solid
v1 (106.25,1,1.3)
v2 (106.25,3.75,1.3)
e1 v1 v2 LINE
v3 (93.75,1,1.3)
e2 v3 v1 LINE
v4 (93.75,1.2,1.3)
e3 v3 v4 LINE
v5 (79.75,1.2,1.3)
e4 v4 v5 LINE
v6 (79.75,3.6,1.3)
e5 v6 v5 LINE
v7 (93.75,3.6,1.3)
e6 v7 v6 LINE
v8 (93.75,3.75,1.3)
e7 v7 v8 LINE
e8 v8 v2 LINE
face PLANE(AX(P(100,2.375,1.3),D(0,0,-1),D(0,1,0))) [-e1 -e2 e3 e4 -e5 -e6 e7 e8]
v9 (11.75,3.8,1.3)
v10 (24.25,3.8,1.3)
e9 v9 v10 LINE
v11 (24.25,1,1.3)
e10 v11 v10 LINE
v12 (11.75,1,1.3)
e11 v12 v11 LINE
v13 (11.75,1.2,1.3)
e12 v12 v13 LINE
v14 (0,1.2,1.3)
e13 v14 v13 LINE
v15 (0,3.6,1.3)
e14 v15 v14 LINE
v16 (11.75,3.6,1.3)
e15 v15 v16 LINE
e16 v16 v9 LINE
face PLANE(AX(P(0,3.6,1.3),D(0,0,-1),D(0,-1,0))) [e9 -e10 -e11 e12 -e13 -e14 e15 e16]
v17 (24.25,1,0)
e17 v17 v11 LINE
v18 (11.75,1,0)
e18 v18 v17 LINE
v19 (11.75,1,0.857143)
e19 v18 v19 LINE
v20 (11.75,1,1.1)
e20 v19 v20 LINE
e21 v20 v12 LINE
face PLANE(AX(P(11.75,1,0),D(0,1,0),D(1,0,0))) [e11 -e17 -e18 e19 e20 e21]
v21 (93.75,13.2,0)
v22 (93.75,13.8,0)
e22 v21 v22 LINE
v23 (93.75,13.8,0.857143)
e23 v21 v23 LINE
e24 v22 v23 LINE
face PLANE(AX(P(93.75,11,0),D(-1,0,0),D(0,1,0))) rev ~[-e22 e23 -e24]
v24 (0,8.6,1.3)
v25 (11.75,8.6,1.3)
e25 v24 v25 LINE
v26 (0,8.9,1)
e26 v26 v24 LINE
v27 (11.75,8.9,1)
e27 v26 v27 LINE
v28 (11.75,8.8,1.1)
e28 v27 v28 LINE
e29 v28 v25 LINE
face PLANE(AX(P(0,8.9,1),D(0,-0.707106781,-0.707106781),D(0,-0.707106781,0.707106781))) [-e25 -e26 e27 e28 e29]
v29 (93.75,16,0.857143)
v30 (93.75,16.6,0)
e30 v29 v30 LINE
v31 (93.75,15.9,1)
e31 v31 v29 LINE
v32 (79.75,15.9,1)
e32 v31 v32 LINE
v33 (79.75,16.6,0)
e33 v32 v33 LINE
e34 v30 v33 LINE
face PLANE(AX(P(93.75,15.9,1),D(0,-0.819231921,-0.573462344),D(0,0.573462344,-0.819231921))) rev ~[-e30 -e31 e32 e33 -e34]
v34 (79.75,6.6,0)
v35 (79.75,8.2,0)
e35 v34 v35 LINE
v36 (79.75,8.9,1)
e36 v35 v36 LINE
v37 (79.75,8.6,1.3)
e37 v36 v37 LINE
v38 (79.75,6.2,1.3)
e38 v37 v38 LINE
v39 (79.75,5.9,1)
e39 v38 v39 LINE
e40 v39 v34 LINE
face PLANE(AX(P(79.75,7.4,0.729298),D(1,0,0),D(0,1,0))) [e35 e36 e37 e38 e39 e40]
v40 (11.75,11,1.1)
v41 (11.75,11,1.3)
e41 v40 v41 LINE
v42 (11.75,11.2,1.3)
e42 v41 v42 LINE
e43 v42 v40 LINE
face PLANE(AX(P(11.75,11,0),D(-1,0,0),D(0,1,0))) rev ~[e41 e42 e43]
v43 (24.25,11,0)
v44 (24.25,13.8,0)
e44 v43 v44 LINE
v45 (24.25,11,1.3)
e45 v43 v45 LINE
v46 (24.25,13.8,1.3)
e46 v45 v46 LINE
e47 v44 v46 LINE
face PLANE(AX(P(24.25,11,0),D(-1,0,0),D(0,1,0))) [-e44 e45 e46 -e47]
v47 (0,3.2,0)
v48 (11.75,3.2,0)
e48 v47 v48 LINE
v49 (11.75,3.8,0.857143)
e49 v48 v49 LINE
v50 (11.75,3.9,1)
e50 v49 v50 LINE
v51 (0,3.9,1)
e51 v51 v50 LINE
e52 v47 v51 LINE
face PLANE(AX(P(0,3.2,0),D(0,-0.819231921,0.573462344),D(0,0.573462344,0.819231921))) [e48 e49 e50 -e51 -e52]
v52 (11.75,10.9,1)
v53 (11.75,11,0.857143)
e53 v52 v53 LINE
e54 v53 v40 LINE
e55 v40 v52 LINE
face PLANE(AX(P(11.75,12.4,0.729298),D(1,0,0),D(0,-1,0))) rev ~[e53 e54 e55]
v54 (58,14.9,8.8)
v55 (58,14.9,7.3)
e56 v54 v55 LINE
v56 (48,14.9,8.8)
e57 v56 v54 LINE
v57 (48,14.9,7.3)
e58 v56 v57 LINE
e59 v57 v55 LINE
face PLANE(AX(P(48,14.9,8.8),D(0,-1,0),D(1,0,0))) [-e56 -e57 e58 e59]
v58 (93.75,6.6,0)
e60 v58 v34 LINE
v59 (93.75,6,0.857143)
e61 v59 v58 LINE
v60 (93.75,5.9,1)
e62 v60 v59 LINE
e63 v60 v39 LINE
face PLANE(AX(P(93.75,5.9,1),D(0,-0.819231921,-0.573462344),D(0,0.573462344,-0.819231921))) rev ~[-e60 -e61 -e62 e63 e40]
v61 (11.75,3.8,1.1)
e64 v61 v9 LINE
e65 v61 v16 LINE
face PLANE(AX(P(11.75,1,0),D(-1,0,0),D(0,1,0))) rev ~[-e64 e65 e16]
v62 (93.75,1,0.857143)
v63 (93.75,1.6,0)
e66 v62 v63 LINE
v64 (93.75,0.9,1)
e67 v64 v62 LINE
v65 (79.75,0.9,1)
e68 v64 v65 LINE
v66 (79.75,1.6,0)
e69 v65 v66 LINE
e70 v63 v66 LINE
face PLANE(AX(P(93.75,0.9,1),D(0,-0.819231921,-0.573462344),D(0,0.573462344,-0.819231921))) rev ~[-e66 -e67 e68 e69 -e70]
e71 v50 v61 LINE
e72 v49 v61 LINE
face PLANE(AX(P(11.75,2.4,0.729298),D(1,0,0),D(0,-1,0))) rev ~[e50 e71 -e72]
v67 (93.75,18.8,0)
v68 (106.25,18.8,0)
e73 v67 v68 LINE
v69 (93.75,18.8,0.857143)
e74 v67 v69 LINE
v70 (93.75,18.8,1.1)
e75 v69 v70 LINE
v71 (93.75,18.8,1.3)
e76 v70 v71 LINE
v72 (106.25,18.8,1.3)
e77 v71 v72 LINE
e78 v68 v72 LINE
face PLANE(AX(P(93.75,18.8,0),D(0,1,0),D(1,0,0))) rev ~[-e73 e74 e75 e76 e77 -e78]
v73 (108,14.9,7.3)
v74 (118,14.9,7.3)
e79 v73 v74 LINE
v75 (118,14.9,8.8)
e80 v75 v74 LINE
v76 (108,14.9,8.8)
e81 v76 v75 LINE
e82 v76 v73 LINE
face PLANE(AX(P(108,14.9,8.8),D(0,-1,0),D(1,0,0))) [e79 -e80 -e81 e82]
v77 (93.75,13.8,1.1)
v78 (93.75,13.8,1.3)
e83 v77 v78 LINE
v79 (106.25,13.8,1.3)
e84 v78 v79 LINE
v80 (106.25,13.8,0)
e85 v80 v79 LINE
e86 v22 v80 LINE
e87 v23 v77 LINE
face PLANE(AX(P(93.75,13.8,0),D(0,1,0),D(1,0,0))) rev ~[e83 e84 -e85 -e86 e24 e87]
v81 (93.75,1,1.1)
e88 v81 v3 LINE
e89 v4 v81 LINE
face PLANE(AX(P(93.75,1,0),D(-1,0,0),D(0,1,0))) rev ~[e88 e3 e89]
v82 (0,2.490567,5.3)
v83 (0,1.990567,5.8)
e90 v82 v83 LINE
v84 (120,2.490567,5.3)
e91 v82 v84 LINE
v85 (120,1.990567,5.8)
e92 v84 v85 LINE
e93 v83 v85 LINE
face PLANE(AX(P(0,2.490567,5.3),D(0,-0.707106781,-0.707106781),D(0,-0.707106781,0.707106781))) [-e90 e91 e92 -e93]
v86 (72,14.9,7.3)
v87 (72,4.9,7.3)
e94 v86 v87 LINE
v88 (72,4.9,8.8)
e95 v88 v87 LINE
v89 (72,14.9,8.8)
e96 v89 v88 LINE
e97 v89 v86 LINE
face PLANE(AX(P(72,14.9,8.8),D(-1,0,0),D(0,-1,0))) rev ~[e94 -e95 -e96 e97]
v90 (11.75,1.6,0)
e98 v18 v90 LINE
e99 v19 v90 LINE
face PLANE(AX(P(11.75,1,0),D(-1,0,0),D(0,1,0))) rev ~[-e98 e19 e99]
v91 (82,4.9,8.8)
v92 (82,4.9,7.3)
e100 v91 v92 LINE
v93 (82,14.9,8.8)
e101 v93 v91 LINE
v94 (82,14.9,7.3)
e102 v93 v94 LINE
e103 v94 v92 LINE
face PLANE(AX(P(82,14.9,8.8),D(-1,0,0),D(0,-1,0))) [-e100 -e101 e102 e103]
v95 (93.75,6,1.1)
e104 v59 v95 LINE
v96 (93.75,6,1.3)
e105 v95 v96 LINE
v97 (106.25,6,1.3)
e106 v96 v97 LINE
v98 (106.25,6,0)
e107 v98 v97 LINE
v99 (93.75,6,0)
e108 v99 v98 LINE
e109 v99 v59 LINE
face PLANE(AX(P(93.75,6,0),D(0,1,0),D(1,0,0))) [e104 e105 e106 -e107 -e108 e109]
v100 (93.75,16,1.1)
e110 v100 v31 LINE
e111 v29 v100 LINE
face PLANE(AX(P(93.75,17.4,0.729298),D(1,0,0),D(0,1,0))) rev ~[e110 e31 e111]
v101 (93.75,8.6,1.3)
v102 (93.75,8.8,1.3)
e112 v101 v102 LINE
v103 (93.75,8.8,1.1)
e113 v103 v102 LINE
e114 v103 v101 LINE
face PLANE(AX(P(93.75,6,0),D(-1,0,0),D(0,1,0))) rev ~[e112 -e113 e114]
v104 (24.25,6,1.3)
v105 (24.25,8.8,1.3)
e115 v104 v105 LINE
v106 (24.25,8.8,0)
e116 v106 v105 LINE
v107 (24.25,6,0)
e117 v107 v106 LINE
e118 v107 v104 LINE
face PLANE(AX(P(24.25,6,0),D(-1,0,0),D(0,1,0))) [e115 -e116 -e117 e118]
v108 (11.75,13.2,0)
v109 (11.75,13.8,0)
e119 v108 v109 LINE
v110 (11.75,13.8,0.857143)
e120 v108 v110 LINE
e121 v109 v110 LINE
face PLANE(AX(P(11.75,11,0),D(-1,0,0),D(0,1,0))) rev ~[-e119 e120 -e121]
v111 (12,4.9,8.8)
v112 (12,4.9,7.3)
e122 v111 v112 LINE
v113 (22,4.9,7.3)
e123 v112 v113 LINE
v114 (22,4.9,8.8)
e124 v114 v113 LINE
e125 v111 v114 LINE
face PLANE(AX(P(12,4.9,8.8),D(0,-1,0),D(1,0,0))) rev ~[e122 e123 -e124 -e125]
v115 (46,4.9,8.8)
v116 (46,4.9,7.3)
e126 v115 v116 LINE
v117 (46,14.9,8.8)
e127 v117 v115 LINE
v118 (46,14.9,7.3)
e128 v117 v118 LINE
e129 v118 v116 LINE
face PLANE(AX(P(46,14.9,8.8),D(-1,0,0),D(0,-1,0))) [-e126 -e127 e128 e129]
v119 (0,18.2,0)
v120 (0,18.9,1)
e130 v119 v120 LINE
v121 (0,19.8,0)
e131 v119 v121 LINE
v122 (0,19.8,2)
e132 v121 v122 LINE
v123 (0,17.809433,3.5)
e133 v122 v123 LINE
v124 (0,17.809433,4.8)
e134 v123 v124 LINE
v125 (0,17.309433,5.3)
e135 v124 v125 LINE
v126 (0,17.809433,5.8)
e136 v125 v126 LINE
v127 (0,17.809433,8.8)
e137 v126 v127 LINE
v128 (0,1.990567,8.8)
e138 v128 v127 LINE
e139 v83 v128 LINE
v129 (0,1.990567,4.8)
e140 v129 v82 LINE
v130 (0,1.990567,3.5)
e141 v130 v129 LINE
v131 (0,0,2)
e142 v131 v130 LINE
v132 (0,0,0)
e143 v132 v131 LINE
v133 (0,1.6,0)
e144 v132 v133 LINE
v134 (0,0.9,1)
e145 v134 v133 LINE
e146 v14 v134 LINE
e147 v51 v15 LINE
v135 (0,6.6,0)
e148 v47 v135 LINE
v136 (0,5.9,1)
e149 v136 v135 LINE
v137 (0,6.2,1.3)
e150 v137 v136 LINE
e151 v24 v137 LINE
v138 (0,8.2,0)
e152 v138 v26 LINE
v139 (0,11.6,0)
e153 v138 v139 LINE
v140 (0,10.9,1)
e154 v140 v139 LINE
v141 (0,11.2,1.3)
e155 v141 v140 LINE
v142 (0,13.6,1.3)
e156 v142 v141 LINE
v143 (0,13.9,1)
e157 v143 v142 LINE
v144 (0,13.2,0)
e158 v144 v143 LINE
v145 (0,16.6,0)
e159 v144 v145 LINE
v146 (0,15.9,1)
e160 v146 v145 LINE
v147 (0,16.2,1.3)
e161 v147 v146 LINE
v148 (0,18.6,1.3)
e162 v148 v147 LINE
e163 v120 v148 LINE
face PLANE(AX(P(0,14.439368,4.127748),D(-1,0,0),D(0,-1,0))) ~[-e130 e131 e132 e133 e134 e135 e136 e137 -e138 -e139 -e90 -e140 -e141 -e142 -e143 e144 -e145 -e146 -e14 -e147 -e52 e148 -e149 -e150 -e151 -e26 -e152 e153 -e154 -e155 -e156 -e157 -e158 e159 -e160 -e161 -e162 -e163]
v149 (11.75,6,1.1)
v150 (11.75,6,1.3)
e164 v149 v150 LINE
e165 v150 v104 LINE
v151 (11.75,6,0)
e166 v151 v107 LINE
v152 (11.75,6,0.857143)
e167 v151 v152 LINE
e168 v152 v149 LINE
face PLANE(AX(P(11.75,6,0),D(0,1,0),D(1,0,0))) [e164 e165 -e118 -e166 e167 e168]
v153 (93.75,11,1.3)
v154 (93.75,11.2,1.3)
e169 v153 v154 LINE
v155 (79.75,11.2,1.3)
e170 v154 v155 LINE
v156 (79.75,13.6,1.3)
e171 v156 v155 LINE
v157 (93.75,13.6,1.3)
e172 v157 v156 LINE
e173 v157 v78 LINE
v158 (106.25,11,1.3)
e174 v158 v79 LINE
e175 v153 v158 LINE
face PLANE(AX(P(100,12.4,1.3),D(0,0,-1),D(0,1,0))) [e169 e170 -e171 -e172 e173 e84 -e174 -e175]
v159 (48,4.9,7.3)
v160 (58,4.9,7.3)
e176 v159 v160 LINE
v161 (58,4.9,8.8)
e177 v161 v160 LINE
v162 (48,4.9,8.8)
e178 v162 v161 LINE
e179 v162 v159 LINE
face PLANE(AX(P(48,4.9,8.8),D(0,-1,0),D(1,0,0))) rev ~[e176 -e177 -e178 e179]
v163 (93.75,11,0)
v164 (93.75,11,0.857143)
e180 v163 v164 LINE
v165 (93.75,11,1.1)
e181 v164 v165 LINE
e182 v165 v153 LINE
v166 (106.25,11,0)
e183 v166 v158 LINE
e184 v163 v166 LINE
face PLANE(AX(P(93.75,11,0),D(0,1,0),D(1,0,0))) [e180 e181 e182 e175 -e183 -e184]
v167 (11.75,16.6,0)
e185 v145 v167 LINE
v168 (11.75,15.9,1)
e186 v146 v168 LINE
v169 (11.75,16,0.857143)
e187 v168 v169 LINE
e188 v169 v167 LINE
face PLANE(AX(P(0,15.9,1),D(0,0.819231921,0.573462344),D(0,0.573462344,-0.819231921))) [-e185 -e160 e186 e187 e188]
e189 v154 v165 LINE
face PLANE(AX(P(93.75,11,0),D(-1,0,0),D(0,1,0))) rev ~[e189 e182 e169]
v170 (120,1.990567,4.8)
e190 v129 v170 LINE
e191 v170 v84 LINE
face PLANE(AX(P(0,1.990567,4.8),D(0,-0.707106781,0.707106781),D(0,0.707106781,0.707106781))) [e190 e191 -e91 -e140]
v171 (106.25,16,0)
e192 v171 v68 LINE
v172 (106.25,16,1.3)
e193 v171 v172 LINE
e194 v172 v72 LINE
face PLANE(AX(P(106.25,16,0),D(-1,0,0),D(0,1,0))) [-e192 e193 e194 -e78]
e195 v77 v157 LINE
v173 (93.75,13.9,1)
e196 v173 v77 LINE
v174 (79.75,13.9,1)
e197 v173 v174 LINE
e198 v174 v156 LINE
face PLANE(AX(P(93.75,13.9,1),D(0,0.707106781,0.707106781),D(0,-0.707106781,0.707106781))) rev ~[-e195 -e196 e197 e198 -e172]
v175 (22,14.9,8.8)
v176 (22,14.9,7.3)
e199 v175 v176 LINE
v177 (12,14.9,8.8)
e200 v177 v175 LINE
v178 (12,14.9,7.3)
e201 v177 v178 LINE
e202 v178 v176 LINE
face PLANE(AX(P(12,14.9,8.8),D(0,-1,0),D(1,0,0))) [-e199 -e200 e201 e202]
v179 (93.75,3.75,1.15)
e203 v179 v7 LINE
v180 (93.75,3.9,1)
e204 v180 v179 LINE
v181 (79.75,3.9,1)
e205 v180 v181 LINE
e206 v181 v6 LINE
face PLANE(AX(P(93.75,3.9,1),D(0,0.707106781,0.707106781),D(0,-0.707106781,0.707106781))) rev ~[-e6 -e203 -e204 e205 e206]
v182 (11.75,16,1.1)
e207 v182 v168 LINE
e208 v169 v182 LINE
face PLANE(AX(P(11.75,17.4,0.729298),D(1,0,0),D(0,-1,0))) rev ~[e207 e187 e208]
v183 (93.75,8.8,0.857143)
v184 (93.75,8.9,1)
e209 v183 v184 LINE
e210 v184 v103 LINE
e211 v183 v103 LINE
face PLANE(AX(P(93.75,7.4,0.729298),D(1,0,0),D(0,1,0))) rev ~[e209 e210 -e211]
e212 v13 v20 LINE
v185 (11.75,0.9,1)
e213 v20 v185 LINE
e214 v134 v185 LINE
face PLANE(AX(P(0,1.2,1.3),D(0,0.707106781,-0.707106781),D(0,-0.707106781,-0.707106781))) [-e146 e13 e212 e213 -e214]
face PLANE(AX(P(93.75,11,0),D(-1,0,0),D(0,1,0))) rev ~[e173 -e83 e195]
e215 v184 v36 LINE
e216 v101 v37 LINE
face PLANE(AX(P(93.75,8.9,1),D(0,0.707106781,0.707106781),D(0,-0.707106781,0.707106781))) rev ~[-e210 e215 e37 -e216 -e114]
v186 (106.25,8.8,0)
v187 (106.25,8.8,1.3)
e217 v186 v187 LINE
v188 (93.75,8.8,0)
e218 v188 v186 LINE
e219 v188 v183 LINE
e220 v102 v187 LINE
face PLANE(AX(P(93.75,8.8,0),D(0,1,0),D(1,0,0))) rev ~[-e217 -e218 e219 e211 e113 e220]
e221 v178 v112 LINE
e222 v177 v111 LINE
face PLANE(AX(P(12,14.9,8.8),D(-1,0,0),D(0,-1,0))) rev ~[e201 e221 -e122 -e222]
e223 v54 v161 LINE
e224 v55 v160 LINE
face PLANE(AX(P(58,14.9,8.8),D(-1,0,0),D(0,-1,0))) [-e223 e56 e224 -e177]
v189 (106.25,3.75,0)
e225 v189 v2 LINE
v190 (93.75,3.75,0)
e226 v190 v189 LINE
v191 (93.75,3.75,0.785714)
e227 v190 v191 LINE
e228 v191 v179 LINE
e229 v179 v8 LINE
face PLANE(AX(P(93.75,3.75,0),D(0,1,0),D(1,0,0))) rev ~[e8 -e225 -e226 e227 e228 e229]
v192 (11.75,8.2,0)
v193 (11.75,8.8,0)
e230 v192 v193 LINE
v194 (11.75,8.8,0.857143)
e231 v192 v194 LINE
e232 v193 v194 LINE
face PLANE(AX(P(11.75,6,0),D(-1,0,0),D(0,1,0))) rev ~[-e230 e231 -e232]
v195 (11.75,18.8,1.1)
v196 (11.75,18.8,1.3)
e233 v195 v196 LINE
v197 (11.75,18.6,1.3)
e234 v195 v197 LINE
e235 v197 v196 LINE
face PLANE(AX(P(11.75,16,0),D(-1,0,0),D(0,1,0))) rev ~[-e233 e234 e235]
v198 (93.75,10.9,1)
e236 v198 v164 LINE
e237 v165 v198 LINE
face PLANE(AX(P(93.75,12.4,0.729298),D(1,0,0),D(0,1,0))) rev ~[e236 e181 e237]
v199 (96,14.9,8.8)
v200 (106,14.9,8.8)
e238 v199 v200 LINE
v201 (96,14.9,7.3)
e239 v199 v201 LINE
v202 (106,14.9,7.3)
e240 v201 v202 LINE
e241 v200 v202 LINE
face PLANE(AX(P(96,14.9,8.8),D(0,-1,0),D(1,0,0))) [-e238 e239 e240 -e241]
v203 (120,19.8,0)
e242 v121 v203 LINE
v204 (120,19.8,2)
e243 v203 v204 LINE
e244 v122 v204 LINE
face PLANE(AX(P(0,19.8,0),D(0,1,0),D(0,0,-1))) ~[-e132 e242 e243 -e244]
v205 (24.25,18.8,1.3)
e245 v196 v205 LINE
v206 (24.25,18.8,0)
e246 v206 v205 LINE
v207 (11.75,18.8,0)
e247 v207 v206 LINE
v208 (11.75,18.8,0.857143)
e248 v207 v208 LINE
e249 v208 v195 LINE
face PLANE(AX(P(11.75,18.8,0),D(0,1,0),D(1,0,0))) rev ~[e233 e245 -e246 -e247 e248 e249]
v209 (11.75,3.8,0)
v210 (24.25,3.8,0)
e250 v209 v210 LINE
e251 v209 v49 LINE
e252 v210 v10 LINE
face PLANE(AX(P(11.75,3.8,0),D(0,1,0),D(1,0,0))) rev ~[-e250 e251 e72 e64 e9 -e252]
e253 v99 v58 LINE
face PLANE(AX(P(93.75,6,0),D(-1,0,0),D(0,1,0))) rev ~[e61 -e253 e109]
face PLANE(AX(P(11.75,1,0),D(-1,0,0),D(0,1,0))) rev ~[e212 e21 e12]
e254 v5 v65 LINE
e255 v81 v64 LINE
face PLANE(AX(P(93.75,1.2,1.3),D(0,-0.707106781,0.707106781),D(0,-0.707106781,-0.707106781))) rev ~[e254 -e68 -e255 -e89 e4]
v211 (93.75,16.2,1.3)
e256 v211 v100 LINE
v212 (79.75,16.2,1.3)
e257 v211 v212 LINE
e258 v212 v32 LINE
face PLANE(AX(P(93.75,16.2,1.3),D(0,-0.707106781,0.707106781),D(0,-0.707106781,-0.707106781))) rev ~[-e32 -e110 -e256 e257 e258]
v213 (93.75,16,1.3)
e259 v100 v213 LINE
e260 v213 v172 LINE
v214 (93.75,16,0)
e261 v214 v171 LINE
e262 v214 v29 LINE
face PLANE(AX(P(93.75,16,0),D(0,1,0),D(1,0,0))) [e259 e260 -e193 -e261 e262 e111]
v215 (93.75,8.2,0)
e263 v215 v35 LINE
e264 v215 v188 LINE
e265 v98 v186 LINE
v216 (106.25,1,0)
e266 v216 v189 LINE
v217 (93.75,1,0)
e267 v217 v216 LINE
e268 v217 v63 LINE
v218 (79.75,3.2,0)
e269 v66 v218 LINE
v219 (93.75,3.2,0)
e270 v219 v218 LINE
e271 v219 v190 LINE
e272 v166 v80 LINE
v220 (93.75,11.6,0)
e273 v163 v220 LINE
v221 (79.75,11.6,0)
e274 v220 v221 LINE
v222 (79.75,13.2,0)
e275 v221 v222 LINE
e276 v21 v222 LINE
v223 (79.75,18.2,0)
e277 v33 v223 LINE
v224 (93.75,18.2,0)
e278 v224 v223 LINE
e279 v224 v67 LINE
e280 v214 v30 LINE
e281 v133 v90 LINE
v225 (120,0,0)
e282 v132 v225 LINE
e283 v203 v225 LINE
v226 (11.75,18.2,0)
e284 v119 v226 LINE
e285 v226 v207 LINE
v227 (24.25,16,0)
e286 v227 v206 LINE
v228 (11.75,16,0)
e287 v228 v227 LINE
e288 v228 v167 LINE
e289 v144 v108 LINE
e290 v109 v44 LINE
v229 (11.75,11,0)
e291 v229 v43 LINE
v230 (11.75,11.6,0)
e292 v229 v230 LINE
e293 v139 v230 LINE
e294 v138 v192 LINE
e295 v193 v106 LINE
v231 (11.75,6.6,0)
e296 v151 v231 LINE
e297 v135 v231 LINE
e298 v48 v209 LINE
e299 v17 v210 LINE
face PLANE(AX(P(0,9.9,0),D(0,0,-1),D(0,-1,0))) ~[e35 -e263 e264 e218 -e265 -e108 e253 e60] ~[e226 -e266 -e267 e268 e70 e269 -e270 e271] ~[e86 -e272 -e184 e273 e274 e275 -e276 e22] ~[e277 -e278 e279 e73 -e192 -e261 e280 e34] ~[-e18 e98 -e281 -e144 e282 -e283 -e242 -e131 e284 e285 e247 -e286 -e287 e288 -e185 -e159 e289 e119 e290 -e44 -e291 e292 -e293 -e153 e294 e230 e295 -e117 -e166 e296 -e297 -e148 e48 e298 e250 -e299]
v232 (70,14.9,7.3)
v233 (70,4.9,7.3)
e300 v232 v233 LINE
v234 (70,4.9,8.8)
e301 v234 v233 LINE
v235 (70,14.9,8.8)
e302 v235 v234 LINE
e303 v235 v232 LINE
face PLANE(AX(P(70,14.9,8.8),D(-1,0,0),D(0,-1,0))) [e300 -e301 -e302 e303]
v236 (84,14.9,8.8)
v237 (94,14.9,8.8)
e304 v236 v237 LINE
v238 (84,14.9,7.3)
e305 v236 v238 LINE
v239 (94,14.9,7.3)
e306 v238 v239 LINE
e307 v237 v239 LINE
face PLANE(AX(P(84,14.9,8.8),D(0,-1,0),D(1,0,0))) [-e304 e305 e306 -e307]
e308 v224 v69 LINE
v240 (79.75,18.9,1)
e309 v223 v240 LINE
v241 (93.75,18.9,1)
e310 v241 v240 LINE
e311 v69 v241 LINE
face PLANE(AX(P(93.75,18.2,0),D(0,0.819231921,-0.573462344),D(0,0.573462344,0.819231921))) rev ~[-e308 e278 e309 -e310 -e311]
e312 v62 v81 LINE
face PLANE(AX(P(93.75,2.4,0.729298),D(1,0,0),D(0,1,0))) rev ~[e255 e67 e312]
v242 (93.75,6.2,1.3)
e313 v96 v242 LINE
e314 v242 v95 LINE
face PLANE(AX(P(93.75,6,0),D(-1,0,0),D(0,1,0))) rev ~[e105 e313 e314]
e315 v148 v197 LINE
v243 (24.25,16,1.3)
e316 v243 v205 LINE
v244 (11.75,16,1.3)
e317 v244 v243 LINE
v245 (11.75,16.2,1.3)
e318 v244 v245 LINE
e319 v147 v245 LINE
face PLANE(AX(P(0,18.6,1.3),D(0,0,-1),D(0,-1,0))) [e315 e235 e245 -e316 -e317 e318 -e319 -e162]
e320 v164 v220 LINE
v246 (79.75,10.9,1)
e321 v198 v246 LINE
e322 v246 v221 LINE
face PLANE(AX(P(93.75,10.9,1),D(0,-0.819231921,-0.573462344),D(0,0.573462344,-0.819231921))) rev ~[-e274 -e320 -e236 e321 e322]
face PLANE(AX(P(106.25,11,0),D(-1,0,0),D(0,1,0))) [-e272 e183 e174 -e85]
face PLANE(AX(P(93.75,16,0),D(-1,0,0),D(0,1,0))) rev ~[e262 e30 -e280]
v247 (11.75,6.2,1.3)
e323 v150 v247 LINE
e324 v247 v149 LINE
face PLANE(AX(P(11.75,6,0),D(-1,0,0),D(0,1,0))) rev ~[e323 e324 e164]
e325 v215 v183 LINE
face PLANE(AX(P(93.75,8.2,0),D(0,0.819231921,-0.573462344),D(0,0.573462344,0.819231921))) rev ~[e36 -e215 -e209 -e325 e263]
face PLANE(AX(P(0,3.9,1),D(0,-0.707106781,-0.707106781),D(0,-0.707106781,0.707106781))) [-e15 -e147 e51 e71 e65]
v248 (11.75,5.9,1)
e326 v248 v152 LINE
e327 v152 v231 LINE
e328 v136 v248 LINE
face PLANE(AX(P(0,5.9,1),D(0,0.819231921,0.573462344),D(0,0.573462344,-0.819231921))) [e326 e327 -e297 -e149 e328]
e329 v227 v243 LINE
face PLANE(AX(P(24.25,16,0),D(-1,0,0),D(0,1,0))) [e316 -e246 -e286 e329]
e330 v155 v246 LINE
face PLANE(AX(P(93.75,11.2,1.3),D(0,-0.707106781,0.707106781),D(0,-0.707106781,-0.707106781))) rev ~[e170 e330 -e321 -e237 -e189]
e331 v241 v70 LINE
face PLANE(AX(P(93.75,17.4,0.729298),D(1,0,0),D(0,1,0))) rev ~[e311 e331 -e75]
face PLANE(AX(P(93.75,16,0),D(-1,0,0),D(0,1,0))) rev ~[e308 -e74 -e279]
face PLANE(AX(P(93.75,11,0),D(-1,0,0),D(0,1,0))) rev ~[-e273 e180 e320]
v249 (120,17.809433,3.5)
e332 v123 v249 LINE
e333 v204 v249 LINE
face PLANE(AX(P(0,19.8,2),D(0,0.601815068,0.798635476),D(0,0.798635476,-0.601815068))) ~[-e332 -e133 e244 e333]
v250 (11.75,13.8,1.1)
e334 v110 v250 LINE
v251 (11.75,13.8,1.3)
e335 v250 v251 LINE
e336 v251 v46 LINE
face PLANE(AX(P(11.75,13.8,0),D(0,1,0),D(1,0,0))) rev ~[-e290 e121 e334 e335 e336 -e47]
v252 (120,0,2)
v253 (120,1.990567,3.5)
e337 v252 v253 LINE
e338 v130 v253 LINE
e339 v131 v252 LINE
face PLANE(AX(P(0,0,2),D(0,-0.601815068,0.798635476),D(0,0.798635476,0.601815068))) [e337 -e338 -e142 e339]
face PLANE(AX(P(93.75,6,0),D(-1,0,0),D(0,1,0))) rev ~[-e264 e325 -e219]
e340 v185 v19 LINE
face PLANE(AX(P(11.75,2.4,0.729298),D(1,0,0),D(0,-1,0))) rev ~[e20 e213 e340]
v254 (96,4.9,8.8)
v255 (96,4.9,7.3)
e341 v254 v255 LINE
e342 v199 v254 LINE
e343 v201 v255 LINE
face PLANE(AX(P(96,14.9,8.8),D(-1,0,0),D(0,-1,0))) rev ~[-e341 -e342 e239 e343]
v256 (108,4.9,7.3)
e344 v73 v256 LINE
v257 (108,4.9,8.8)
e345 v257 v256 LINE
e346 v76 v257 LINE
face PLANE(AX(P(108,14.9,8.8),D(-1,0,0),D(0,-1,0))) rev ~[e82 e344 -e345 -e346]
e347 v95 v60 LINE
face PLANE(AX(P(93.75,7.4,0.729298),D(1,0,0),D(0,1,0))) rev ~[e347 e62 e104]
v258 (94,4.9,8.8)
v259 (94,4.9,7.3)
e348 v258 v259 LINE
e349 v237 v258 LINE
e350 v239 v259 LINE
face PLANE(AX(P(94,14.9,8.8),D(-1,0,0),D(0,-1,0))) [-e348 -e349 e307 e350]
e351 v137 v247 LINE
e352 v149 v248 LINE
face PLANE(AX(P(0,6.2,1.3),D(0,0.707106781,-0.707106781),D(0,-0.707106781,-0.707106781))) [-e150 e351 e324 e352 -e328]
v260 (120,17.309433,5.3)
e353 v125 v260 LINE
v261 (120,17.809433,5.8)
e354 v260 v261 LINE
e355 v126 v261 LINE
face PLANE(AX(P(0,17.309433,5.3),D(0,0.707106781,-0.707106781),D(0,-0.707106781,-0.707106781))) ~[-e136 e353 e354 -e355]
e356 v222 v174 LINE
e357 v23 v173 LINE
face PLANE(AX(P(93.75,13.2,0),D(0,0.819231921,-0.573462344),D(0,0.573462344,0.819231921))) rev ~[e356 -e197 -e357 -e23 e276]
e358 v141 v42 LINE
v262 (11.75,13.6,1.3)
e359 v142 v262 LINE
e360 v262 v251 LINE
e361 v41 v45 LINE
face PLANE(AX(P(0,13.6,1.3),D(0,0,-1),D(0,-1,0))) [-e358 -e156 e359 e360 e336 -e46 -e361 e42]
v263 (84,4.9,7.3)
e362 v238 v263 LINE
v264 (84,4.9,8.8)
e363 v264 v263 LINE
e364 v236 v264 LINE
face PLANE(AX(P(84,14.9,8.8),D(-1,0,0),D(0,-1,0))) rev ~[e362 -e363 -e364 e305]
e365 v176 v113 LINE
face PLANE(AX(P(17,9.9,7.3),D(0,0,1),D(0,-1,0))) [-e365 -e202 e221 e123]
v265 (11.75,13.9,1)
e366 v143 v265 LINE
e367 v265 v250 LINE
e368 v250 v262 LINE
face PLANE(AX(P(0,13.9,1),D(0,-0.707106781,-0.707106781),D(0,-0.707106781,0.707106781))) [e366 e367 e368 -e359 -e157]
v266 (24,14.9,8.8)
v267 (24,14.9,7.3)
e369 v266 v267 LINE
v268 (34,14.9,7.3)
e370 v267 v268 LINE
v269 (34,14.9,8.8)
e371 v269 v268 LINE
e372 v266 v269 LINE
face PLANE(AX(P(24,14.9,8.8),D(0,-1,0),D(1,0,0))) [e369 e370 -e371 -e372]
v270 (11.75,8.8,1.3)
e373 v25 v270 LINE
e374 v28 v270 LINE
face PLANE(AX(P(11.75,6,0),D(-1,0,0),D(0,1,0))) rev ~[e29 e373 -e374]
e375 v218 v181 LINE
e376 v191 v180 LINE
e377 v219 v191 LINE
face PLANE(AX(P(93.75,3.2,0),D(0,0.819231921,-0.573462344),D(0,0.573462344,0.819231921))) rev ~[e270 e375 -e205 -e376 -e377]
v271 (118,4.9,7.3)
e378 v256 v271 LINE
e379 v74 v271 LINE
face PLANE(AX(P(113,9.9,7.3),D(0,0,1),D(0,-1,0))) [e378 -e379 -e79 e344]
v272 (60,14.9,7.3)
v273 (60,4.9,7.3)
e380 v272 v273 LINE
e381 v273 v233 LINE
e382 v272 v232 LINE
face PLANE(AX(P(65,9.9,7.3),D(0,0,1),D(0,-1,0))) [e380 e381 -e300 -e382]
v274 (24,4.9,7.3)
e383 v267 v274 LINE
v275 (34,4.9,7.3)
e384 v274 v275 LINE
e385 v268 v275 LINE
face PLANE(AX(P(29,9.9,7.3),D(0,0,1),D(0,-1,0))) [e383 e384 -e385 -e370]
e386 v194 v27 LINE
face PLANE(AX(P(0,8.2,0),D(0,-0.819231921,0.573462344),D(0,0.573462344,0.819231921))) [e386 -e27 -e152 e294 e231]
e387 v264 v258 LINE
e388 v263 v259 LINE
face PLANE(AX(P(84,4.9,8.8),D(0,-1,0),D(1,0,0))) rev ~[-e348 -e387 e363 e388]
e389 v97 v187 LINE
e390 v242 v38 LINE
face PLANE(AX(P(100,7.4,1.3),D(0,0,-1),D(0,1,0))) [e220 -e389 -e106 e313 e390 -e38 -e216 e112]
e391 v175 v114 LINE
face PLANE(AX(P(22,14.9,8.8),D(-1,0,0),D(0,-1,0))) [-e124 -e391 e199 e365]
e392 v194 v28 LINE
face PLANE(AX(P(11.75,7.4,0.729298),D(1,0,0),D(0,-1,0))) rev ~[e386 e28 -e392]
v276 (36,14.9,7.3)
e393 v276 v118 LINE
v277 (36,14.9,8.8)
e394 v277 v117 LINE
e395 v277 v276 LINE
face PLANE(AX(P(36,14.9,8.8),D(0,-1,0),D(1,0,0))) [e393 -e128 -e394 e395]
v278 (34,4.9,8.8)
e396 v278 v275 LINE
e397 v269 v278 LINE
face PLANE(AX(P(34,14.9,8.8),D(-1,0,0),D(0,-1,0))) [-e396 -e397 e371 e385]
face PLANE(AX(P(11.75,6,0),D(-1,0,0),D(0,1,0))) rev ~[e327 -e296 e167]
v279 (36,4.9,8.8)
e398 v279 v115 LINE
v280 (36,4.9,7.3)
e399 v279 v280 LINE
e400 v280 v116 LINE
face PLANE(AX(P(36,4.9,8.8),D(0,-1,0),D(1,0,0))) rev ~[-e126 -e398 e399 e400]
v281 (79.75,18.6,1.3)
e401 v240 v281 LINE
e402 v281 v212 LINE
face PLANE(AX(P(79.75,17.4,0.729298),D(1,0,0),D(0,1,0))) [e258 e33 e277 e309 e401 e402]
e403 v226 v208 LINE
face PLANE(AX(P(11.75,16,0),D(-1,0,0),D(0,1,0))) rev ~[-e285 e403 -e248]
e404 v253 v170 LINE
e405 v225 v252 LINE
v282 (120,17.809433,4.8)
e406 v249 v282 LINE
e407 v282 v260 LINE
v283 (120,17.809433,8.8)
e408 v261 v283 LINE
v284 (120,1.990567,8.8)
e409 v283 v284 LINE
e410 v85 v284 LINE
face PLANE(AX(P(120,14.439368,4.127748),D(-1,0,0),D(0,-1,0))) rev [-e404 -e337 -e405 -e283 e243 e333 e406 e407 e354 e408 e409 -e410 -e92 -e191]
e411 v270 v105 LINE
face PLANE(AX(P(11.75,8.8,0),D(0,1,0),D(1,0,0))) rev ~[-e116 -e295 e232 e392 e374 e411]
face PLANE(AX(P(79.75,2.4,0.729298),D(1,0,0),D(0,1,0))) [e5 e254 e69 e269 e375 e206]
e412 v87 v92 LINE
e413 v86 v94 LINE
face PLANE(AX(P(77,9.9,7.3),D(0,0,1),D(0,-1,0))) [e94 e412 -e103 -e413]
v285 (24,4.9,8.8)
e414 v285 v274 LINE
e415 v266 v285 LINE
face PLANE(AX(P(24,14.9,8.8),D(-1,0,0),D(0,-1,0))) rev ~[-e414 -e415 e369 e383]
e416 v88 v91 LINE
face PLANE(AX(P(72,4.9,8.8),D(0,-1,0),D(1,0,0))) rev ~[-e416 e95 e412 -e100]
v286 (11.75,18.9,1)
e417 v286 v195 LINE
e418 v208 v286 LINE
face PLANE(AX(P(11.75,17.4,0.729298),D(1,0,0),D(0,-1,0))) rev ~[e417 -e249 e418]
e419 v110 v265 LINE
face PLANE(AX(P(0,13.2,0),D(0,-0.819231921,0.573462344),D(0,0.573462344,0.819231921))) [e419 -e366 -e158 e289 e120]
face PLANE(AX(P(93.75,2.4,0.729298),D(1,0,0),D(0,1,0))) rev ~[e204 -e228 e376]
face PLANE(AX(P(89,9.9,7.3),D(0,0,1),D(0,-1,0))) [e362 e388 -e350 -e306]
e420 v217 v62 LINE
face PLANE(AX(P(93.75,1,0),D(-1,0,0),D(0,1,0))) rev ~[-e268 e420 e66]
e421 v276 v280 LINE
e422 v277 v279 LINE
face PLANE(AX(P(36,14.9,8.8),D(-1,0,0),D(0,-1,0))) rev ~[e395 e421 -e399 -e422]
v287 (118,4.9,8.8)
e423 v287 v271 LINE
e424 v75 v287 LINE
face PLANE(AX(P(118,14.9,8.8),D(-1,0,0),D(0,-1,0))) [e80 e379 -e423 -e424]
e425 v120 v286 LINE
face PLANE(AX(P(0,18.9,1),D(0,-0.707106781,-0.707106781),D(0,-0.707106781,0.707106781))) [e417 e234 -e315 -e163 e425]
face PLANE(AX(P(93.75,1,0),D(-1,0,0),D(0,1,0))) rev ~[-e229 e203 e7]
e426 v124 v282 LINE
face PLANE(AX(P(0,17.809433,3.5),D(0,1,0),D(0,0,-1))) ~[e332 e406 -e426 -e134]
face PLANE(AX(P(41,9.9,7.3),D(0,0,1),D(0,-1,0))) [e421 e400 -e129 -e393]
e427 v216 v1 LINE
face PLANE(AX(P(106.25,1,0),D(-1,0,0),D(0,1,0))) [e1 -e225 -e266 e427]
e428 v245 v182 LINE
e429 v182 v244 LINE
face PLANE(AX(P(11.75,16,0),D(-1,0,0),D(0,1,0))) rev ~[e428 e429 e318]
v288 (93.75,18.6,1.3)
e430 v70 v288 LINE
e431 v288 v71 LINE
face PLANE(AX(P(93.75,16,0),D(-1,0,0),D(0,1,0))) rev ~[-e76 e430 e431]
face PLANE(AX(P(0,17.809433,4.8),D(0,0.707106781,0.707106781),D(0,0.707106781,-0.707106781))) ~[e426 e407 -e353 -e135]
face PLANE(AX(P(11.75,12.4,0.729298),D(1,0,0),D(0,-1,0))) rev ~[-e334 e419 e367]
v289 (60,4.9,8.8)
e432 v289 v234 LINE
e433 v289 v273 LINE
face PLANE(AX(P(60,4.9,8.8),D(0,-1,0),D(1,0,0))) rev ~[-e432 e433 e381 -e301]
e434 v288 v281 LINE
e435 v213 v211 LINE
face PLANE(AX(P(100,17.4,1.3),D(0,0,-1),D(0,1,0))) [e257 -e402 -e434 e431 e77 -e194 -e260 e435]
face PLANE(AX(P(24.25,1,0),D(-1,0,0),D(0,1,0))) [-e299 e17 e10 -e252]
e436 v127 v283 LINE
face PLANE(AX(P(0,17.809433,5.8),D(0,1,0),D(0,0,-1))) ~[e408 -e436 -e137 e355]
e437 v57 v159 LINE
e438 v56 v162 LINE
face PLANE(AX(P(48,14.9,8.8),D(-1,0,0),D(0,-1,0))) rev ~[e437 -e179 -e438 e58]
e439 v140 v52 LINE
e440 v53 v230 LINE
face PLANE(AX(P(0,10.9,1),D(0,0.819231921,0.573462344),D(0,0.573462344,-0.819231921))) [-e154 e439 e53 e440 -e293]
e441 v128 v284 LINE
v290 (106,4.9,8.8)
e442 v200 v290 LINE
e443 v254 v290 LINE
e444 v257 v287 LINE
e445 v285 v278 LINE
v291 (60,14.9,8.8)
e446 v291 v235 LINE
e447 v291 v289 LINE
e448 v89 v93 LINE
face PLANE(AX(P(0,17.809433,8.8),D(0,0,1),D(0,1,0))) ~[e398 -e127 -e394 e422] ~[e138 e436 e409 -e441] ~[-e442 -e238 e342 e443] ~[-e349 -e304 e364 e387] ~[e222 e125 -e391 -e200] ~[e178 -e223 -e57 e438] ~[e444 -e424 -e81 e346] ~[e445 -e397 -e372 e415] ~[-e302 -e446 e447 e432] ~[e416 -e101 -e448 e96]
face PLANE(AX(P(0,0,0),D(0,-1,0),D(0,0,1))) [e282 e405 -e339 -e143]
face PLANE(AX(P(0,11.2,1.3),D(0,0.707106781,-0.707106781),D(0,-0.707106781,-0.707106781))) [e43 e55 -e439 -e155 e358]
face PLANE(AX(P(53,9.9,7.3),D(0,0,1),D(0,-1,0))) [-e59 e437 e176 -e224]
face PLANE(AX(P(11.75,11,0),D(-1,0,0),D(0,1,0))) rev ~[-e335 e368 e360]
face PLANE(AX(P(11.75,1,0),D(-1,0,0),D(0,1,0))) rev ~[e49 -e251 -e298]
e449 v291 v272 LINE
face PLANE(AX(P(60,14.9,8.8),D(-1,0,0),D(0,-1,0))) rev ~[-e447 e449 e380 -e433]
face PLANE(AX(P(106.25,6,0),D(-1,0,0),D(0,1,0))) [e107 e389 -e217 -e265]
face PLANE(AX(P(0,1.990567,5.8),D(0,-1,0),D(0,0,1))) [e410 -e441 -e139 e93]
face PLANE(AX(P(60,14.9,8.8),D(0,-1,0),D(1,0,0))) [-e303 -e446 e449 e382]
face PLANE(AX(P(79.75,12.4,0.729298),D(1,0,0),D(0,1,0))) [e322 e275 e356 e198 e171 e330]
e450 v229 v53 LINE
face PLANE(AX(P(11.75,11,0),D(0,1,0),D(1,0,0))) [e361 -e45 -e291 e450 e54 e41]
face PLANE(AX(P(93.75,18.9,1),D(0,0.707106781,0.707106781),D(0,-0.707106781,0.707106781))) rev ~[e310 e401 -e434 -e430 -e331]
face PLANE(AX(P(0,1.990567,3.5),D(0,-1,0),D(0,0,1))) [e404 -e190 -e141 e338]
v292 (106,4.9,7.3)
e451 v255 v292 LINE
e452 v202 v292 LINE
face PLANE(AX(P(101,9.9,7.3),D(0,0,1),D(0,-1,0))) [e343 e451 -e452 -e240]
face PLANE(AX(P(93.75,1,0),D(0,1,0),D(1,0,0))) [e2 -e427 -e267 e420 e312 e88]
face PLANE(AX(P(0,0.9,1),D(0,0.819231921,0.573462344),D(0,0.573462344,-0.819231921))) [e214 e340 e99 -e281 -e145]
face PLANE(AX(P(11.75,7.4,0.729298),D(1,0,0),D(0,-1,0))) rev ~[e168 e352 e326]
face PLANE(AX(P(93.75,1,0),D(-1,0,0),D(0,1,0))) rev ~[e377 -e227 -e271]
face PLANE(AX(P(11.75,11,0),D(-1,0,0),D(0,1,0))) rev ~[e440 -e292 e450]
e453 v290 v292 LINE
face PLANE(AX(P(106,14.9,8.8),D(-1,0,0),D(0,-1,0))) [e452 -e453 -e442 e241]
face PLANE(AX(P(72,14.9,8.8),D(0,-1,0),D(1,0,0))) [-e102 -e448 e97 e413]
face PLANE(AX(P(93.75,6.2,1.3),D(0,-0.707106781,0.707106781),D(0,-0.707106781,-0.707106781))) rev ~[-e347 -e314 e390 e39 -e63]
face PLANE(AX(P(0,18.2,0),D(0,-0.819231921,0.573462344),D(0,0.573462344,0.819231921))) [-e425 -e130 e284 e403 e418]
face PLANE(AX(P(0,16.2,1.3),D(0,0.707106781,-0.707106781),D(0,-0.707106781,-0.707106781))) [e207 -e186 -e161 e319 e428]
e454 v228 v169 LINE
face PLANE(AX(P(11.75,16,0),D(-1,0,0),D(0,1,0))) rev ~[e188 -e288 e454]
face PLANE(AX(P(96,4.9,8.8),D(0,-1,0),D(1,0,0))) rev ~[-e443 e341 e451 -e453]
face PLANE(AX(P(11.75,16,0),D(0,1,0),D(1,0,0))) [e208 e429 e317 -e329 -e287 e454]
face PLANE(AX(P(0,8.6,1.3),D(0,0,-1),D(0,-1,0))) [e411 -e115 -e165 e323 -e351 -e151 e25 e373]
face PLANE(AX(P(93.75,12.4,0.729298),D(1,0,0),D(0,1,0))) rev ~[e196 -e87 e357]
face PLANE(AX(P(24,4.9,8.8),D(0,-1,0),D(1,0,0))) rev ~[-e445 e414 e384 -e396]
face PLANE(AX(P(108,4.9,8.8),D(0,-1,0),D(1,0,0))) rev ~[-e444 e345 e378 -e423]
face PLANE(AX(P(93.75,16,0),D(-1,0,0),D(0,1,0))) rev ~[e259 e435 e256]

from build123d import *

# Parameters (mm, degrees)
PAD_DEPTH              = 120
SKETCH001_W            = 2.8
SKETCH001_H            = 12.5
SKETCH001_W_2          = 2.75
POCKET_DEPTH           = 1.3
POCKET001_DEPTH        = 11.75
POCKET004_DEPTH        = 14
LINEARPATTERN001_COUNT = 4
LINEARPATTERN001_PITCH = 5
LINEARPATTERN_COUNT    = 4
LINEARPATTERN_PITCH    = 5
SKETCH011_W            = 10
SKETCH011_H            = 10
POCKET005_DEPTH        = 1.5
LINEARPATTERN002_COUNT = 9
LINEARPATTERN002_PITCH = 12


with BuildPart() as part:
    # Sketch → Pad (new body)
    with BuildSketch(Plane.YZ):
        Polygon((0, 0), (0, 2), (1.990567, 3.5), (1.990567, 4.8), (2.490567, 5.3), (1.990567, 5.8), (1.990567, 8.8), (9.9, 8.8), (9.9, 0), align=None)
    extrude(amount=PAD_DEPTH)

    # Mirrored: part across face of Pad


with BuildPart() as part_1:
    add(part.part)
    add(part.part.mirror(Plane(origin=(60, 9.9, 4.4), x_dir=(-1, 0, 0), z_dir=(0, 1, 0))))

    # Sketch001 (on Face7 of Mirrored) → Pocket (cut)
    with BuildSketch(Plane.YX):
        with Locations((2.4, 18)):
            Rectangle(SKETCH001_W, SKETCH001_H)
        with Locations((7.4, 18)):
            Rectangle(SKETCH001_W, SKETCH001_H)
        with Locations((12.4, 18)):
            Rectangle(SKETCH001_W, SKETCH001_H)
        with Locations((2.375, 100)):
            Rectangle(SKETCH001_W_2, SKETCH001_H)
        with Locations((7.4, 100)):
            Rectangle(SKETCH001_W, SKETCH001_H)
        with Locations((12.4, 100)):
            Rectangle(SKETCH001_W, SKETCH001_H)
        with Locations((17.4, 18)):
            Rectangle(SKETCH001_W, SKETCH001_H)
        with Locations((17.4, 100)):
            Rectangle(SKETCH001_W, SKETCH001_H)
    extrude(amount=-POCKET_DEPTH, mode=Mode.SUBTRACT)

    # Sketch002 (on Face4 of Pocket) → Pocket001 (cut)
    with BuildSketch(Plane(origin=(0, 0, 0), x_dir=(0, 1, 0), z_dir=(-1, 0, 0))):
        Polygon((18.2, 0), (18.9, -1), (18.6, -1.3), (16.2, -1.3), (15.9, -1), (16.6, 0), align=None)
    pocket001 = extrude(amount=-POCKET001_DEPTH, mode=Mode.SUBTRACT)

    # Sketch010 (on Face14 of Pocket001) → Pocket004 (cut)
    with BuildSketch(Plane.YZ.offset(93.75)):
        Polygon((15.9, 1), (16.6, 0), (18.2, 0), (18.9, 1), (18.6, 1.3), (16.2, 1.3), align=None)
    pocket004 = extrude(amount=-POCKET004_DEPTH, mode=Mode.SUBTRACT)

    # LinearPattern001: Pocket004 ×4
    with Locations(*[(0, -i * LINEARPATTERN001_PITCH, 0) for i in range(1, LINEARPATTERN001_COUNT)]):
        add(pocket004, mode=Mode.SUBTRACT)

    # LinearPattern: Pocket001 ×4
    with Locations(*[(0, -i * LINEARPATTERN_PITCH, 0) for i in range(1, LINEARPATTERN_COUNT)]):
        add(pocket001, mode=Mode.SUBTRACT)

    # Sketch011 (on Face82 of LinearPattern) → Pocket005 (cut)
    with BuildSketch(Plane(origin=(0, 0, 8.8), x_dir=(0, -1, 0), z_dir=(0, 0, 1))):
        with Locations((-9.9, 113)):
            Rectangle(SKETCH011_W, SKETCH011_H)
    pocket005 = extrude(amount=-POCKET005_DEPTH, mode=Mode.SUBTRACT)

    # LinearPattern002: Pocket005 ×9
    with Locations(*[(-i * LINEARPATTERN002_PITCH, 0, 0) for i in range(1, LINEARPATTERN002_COUNT)]):
        add(pocket005, mode=Mode.SUBTRACT)


solid = part_1.part
